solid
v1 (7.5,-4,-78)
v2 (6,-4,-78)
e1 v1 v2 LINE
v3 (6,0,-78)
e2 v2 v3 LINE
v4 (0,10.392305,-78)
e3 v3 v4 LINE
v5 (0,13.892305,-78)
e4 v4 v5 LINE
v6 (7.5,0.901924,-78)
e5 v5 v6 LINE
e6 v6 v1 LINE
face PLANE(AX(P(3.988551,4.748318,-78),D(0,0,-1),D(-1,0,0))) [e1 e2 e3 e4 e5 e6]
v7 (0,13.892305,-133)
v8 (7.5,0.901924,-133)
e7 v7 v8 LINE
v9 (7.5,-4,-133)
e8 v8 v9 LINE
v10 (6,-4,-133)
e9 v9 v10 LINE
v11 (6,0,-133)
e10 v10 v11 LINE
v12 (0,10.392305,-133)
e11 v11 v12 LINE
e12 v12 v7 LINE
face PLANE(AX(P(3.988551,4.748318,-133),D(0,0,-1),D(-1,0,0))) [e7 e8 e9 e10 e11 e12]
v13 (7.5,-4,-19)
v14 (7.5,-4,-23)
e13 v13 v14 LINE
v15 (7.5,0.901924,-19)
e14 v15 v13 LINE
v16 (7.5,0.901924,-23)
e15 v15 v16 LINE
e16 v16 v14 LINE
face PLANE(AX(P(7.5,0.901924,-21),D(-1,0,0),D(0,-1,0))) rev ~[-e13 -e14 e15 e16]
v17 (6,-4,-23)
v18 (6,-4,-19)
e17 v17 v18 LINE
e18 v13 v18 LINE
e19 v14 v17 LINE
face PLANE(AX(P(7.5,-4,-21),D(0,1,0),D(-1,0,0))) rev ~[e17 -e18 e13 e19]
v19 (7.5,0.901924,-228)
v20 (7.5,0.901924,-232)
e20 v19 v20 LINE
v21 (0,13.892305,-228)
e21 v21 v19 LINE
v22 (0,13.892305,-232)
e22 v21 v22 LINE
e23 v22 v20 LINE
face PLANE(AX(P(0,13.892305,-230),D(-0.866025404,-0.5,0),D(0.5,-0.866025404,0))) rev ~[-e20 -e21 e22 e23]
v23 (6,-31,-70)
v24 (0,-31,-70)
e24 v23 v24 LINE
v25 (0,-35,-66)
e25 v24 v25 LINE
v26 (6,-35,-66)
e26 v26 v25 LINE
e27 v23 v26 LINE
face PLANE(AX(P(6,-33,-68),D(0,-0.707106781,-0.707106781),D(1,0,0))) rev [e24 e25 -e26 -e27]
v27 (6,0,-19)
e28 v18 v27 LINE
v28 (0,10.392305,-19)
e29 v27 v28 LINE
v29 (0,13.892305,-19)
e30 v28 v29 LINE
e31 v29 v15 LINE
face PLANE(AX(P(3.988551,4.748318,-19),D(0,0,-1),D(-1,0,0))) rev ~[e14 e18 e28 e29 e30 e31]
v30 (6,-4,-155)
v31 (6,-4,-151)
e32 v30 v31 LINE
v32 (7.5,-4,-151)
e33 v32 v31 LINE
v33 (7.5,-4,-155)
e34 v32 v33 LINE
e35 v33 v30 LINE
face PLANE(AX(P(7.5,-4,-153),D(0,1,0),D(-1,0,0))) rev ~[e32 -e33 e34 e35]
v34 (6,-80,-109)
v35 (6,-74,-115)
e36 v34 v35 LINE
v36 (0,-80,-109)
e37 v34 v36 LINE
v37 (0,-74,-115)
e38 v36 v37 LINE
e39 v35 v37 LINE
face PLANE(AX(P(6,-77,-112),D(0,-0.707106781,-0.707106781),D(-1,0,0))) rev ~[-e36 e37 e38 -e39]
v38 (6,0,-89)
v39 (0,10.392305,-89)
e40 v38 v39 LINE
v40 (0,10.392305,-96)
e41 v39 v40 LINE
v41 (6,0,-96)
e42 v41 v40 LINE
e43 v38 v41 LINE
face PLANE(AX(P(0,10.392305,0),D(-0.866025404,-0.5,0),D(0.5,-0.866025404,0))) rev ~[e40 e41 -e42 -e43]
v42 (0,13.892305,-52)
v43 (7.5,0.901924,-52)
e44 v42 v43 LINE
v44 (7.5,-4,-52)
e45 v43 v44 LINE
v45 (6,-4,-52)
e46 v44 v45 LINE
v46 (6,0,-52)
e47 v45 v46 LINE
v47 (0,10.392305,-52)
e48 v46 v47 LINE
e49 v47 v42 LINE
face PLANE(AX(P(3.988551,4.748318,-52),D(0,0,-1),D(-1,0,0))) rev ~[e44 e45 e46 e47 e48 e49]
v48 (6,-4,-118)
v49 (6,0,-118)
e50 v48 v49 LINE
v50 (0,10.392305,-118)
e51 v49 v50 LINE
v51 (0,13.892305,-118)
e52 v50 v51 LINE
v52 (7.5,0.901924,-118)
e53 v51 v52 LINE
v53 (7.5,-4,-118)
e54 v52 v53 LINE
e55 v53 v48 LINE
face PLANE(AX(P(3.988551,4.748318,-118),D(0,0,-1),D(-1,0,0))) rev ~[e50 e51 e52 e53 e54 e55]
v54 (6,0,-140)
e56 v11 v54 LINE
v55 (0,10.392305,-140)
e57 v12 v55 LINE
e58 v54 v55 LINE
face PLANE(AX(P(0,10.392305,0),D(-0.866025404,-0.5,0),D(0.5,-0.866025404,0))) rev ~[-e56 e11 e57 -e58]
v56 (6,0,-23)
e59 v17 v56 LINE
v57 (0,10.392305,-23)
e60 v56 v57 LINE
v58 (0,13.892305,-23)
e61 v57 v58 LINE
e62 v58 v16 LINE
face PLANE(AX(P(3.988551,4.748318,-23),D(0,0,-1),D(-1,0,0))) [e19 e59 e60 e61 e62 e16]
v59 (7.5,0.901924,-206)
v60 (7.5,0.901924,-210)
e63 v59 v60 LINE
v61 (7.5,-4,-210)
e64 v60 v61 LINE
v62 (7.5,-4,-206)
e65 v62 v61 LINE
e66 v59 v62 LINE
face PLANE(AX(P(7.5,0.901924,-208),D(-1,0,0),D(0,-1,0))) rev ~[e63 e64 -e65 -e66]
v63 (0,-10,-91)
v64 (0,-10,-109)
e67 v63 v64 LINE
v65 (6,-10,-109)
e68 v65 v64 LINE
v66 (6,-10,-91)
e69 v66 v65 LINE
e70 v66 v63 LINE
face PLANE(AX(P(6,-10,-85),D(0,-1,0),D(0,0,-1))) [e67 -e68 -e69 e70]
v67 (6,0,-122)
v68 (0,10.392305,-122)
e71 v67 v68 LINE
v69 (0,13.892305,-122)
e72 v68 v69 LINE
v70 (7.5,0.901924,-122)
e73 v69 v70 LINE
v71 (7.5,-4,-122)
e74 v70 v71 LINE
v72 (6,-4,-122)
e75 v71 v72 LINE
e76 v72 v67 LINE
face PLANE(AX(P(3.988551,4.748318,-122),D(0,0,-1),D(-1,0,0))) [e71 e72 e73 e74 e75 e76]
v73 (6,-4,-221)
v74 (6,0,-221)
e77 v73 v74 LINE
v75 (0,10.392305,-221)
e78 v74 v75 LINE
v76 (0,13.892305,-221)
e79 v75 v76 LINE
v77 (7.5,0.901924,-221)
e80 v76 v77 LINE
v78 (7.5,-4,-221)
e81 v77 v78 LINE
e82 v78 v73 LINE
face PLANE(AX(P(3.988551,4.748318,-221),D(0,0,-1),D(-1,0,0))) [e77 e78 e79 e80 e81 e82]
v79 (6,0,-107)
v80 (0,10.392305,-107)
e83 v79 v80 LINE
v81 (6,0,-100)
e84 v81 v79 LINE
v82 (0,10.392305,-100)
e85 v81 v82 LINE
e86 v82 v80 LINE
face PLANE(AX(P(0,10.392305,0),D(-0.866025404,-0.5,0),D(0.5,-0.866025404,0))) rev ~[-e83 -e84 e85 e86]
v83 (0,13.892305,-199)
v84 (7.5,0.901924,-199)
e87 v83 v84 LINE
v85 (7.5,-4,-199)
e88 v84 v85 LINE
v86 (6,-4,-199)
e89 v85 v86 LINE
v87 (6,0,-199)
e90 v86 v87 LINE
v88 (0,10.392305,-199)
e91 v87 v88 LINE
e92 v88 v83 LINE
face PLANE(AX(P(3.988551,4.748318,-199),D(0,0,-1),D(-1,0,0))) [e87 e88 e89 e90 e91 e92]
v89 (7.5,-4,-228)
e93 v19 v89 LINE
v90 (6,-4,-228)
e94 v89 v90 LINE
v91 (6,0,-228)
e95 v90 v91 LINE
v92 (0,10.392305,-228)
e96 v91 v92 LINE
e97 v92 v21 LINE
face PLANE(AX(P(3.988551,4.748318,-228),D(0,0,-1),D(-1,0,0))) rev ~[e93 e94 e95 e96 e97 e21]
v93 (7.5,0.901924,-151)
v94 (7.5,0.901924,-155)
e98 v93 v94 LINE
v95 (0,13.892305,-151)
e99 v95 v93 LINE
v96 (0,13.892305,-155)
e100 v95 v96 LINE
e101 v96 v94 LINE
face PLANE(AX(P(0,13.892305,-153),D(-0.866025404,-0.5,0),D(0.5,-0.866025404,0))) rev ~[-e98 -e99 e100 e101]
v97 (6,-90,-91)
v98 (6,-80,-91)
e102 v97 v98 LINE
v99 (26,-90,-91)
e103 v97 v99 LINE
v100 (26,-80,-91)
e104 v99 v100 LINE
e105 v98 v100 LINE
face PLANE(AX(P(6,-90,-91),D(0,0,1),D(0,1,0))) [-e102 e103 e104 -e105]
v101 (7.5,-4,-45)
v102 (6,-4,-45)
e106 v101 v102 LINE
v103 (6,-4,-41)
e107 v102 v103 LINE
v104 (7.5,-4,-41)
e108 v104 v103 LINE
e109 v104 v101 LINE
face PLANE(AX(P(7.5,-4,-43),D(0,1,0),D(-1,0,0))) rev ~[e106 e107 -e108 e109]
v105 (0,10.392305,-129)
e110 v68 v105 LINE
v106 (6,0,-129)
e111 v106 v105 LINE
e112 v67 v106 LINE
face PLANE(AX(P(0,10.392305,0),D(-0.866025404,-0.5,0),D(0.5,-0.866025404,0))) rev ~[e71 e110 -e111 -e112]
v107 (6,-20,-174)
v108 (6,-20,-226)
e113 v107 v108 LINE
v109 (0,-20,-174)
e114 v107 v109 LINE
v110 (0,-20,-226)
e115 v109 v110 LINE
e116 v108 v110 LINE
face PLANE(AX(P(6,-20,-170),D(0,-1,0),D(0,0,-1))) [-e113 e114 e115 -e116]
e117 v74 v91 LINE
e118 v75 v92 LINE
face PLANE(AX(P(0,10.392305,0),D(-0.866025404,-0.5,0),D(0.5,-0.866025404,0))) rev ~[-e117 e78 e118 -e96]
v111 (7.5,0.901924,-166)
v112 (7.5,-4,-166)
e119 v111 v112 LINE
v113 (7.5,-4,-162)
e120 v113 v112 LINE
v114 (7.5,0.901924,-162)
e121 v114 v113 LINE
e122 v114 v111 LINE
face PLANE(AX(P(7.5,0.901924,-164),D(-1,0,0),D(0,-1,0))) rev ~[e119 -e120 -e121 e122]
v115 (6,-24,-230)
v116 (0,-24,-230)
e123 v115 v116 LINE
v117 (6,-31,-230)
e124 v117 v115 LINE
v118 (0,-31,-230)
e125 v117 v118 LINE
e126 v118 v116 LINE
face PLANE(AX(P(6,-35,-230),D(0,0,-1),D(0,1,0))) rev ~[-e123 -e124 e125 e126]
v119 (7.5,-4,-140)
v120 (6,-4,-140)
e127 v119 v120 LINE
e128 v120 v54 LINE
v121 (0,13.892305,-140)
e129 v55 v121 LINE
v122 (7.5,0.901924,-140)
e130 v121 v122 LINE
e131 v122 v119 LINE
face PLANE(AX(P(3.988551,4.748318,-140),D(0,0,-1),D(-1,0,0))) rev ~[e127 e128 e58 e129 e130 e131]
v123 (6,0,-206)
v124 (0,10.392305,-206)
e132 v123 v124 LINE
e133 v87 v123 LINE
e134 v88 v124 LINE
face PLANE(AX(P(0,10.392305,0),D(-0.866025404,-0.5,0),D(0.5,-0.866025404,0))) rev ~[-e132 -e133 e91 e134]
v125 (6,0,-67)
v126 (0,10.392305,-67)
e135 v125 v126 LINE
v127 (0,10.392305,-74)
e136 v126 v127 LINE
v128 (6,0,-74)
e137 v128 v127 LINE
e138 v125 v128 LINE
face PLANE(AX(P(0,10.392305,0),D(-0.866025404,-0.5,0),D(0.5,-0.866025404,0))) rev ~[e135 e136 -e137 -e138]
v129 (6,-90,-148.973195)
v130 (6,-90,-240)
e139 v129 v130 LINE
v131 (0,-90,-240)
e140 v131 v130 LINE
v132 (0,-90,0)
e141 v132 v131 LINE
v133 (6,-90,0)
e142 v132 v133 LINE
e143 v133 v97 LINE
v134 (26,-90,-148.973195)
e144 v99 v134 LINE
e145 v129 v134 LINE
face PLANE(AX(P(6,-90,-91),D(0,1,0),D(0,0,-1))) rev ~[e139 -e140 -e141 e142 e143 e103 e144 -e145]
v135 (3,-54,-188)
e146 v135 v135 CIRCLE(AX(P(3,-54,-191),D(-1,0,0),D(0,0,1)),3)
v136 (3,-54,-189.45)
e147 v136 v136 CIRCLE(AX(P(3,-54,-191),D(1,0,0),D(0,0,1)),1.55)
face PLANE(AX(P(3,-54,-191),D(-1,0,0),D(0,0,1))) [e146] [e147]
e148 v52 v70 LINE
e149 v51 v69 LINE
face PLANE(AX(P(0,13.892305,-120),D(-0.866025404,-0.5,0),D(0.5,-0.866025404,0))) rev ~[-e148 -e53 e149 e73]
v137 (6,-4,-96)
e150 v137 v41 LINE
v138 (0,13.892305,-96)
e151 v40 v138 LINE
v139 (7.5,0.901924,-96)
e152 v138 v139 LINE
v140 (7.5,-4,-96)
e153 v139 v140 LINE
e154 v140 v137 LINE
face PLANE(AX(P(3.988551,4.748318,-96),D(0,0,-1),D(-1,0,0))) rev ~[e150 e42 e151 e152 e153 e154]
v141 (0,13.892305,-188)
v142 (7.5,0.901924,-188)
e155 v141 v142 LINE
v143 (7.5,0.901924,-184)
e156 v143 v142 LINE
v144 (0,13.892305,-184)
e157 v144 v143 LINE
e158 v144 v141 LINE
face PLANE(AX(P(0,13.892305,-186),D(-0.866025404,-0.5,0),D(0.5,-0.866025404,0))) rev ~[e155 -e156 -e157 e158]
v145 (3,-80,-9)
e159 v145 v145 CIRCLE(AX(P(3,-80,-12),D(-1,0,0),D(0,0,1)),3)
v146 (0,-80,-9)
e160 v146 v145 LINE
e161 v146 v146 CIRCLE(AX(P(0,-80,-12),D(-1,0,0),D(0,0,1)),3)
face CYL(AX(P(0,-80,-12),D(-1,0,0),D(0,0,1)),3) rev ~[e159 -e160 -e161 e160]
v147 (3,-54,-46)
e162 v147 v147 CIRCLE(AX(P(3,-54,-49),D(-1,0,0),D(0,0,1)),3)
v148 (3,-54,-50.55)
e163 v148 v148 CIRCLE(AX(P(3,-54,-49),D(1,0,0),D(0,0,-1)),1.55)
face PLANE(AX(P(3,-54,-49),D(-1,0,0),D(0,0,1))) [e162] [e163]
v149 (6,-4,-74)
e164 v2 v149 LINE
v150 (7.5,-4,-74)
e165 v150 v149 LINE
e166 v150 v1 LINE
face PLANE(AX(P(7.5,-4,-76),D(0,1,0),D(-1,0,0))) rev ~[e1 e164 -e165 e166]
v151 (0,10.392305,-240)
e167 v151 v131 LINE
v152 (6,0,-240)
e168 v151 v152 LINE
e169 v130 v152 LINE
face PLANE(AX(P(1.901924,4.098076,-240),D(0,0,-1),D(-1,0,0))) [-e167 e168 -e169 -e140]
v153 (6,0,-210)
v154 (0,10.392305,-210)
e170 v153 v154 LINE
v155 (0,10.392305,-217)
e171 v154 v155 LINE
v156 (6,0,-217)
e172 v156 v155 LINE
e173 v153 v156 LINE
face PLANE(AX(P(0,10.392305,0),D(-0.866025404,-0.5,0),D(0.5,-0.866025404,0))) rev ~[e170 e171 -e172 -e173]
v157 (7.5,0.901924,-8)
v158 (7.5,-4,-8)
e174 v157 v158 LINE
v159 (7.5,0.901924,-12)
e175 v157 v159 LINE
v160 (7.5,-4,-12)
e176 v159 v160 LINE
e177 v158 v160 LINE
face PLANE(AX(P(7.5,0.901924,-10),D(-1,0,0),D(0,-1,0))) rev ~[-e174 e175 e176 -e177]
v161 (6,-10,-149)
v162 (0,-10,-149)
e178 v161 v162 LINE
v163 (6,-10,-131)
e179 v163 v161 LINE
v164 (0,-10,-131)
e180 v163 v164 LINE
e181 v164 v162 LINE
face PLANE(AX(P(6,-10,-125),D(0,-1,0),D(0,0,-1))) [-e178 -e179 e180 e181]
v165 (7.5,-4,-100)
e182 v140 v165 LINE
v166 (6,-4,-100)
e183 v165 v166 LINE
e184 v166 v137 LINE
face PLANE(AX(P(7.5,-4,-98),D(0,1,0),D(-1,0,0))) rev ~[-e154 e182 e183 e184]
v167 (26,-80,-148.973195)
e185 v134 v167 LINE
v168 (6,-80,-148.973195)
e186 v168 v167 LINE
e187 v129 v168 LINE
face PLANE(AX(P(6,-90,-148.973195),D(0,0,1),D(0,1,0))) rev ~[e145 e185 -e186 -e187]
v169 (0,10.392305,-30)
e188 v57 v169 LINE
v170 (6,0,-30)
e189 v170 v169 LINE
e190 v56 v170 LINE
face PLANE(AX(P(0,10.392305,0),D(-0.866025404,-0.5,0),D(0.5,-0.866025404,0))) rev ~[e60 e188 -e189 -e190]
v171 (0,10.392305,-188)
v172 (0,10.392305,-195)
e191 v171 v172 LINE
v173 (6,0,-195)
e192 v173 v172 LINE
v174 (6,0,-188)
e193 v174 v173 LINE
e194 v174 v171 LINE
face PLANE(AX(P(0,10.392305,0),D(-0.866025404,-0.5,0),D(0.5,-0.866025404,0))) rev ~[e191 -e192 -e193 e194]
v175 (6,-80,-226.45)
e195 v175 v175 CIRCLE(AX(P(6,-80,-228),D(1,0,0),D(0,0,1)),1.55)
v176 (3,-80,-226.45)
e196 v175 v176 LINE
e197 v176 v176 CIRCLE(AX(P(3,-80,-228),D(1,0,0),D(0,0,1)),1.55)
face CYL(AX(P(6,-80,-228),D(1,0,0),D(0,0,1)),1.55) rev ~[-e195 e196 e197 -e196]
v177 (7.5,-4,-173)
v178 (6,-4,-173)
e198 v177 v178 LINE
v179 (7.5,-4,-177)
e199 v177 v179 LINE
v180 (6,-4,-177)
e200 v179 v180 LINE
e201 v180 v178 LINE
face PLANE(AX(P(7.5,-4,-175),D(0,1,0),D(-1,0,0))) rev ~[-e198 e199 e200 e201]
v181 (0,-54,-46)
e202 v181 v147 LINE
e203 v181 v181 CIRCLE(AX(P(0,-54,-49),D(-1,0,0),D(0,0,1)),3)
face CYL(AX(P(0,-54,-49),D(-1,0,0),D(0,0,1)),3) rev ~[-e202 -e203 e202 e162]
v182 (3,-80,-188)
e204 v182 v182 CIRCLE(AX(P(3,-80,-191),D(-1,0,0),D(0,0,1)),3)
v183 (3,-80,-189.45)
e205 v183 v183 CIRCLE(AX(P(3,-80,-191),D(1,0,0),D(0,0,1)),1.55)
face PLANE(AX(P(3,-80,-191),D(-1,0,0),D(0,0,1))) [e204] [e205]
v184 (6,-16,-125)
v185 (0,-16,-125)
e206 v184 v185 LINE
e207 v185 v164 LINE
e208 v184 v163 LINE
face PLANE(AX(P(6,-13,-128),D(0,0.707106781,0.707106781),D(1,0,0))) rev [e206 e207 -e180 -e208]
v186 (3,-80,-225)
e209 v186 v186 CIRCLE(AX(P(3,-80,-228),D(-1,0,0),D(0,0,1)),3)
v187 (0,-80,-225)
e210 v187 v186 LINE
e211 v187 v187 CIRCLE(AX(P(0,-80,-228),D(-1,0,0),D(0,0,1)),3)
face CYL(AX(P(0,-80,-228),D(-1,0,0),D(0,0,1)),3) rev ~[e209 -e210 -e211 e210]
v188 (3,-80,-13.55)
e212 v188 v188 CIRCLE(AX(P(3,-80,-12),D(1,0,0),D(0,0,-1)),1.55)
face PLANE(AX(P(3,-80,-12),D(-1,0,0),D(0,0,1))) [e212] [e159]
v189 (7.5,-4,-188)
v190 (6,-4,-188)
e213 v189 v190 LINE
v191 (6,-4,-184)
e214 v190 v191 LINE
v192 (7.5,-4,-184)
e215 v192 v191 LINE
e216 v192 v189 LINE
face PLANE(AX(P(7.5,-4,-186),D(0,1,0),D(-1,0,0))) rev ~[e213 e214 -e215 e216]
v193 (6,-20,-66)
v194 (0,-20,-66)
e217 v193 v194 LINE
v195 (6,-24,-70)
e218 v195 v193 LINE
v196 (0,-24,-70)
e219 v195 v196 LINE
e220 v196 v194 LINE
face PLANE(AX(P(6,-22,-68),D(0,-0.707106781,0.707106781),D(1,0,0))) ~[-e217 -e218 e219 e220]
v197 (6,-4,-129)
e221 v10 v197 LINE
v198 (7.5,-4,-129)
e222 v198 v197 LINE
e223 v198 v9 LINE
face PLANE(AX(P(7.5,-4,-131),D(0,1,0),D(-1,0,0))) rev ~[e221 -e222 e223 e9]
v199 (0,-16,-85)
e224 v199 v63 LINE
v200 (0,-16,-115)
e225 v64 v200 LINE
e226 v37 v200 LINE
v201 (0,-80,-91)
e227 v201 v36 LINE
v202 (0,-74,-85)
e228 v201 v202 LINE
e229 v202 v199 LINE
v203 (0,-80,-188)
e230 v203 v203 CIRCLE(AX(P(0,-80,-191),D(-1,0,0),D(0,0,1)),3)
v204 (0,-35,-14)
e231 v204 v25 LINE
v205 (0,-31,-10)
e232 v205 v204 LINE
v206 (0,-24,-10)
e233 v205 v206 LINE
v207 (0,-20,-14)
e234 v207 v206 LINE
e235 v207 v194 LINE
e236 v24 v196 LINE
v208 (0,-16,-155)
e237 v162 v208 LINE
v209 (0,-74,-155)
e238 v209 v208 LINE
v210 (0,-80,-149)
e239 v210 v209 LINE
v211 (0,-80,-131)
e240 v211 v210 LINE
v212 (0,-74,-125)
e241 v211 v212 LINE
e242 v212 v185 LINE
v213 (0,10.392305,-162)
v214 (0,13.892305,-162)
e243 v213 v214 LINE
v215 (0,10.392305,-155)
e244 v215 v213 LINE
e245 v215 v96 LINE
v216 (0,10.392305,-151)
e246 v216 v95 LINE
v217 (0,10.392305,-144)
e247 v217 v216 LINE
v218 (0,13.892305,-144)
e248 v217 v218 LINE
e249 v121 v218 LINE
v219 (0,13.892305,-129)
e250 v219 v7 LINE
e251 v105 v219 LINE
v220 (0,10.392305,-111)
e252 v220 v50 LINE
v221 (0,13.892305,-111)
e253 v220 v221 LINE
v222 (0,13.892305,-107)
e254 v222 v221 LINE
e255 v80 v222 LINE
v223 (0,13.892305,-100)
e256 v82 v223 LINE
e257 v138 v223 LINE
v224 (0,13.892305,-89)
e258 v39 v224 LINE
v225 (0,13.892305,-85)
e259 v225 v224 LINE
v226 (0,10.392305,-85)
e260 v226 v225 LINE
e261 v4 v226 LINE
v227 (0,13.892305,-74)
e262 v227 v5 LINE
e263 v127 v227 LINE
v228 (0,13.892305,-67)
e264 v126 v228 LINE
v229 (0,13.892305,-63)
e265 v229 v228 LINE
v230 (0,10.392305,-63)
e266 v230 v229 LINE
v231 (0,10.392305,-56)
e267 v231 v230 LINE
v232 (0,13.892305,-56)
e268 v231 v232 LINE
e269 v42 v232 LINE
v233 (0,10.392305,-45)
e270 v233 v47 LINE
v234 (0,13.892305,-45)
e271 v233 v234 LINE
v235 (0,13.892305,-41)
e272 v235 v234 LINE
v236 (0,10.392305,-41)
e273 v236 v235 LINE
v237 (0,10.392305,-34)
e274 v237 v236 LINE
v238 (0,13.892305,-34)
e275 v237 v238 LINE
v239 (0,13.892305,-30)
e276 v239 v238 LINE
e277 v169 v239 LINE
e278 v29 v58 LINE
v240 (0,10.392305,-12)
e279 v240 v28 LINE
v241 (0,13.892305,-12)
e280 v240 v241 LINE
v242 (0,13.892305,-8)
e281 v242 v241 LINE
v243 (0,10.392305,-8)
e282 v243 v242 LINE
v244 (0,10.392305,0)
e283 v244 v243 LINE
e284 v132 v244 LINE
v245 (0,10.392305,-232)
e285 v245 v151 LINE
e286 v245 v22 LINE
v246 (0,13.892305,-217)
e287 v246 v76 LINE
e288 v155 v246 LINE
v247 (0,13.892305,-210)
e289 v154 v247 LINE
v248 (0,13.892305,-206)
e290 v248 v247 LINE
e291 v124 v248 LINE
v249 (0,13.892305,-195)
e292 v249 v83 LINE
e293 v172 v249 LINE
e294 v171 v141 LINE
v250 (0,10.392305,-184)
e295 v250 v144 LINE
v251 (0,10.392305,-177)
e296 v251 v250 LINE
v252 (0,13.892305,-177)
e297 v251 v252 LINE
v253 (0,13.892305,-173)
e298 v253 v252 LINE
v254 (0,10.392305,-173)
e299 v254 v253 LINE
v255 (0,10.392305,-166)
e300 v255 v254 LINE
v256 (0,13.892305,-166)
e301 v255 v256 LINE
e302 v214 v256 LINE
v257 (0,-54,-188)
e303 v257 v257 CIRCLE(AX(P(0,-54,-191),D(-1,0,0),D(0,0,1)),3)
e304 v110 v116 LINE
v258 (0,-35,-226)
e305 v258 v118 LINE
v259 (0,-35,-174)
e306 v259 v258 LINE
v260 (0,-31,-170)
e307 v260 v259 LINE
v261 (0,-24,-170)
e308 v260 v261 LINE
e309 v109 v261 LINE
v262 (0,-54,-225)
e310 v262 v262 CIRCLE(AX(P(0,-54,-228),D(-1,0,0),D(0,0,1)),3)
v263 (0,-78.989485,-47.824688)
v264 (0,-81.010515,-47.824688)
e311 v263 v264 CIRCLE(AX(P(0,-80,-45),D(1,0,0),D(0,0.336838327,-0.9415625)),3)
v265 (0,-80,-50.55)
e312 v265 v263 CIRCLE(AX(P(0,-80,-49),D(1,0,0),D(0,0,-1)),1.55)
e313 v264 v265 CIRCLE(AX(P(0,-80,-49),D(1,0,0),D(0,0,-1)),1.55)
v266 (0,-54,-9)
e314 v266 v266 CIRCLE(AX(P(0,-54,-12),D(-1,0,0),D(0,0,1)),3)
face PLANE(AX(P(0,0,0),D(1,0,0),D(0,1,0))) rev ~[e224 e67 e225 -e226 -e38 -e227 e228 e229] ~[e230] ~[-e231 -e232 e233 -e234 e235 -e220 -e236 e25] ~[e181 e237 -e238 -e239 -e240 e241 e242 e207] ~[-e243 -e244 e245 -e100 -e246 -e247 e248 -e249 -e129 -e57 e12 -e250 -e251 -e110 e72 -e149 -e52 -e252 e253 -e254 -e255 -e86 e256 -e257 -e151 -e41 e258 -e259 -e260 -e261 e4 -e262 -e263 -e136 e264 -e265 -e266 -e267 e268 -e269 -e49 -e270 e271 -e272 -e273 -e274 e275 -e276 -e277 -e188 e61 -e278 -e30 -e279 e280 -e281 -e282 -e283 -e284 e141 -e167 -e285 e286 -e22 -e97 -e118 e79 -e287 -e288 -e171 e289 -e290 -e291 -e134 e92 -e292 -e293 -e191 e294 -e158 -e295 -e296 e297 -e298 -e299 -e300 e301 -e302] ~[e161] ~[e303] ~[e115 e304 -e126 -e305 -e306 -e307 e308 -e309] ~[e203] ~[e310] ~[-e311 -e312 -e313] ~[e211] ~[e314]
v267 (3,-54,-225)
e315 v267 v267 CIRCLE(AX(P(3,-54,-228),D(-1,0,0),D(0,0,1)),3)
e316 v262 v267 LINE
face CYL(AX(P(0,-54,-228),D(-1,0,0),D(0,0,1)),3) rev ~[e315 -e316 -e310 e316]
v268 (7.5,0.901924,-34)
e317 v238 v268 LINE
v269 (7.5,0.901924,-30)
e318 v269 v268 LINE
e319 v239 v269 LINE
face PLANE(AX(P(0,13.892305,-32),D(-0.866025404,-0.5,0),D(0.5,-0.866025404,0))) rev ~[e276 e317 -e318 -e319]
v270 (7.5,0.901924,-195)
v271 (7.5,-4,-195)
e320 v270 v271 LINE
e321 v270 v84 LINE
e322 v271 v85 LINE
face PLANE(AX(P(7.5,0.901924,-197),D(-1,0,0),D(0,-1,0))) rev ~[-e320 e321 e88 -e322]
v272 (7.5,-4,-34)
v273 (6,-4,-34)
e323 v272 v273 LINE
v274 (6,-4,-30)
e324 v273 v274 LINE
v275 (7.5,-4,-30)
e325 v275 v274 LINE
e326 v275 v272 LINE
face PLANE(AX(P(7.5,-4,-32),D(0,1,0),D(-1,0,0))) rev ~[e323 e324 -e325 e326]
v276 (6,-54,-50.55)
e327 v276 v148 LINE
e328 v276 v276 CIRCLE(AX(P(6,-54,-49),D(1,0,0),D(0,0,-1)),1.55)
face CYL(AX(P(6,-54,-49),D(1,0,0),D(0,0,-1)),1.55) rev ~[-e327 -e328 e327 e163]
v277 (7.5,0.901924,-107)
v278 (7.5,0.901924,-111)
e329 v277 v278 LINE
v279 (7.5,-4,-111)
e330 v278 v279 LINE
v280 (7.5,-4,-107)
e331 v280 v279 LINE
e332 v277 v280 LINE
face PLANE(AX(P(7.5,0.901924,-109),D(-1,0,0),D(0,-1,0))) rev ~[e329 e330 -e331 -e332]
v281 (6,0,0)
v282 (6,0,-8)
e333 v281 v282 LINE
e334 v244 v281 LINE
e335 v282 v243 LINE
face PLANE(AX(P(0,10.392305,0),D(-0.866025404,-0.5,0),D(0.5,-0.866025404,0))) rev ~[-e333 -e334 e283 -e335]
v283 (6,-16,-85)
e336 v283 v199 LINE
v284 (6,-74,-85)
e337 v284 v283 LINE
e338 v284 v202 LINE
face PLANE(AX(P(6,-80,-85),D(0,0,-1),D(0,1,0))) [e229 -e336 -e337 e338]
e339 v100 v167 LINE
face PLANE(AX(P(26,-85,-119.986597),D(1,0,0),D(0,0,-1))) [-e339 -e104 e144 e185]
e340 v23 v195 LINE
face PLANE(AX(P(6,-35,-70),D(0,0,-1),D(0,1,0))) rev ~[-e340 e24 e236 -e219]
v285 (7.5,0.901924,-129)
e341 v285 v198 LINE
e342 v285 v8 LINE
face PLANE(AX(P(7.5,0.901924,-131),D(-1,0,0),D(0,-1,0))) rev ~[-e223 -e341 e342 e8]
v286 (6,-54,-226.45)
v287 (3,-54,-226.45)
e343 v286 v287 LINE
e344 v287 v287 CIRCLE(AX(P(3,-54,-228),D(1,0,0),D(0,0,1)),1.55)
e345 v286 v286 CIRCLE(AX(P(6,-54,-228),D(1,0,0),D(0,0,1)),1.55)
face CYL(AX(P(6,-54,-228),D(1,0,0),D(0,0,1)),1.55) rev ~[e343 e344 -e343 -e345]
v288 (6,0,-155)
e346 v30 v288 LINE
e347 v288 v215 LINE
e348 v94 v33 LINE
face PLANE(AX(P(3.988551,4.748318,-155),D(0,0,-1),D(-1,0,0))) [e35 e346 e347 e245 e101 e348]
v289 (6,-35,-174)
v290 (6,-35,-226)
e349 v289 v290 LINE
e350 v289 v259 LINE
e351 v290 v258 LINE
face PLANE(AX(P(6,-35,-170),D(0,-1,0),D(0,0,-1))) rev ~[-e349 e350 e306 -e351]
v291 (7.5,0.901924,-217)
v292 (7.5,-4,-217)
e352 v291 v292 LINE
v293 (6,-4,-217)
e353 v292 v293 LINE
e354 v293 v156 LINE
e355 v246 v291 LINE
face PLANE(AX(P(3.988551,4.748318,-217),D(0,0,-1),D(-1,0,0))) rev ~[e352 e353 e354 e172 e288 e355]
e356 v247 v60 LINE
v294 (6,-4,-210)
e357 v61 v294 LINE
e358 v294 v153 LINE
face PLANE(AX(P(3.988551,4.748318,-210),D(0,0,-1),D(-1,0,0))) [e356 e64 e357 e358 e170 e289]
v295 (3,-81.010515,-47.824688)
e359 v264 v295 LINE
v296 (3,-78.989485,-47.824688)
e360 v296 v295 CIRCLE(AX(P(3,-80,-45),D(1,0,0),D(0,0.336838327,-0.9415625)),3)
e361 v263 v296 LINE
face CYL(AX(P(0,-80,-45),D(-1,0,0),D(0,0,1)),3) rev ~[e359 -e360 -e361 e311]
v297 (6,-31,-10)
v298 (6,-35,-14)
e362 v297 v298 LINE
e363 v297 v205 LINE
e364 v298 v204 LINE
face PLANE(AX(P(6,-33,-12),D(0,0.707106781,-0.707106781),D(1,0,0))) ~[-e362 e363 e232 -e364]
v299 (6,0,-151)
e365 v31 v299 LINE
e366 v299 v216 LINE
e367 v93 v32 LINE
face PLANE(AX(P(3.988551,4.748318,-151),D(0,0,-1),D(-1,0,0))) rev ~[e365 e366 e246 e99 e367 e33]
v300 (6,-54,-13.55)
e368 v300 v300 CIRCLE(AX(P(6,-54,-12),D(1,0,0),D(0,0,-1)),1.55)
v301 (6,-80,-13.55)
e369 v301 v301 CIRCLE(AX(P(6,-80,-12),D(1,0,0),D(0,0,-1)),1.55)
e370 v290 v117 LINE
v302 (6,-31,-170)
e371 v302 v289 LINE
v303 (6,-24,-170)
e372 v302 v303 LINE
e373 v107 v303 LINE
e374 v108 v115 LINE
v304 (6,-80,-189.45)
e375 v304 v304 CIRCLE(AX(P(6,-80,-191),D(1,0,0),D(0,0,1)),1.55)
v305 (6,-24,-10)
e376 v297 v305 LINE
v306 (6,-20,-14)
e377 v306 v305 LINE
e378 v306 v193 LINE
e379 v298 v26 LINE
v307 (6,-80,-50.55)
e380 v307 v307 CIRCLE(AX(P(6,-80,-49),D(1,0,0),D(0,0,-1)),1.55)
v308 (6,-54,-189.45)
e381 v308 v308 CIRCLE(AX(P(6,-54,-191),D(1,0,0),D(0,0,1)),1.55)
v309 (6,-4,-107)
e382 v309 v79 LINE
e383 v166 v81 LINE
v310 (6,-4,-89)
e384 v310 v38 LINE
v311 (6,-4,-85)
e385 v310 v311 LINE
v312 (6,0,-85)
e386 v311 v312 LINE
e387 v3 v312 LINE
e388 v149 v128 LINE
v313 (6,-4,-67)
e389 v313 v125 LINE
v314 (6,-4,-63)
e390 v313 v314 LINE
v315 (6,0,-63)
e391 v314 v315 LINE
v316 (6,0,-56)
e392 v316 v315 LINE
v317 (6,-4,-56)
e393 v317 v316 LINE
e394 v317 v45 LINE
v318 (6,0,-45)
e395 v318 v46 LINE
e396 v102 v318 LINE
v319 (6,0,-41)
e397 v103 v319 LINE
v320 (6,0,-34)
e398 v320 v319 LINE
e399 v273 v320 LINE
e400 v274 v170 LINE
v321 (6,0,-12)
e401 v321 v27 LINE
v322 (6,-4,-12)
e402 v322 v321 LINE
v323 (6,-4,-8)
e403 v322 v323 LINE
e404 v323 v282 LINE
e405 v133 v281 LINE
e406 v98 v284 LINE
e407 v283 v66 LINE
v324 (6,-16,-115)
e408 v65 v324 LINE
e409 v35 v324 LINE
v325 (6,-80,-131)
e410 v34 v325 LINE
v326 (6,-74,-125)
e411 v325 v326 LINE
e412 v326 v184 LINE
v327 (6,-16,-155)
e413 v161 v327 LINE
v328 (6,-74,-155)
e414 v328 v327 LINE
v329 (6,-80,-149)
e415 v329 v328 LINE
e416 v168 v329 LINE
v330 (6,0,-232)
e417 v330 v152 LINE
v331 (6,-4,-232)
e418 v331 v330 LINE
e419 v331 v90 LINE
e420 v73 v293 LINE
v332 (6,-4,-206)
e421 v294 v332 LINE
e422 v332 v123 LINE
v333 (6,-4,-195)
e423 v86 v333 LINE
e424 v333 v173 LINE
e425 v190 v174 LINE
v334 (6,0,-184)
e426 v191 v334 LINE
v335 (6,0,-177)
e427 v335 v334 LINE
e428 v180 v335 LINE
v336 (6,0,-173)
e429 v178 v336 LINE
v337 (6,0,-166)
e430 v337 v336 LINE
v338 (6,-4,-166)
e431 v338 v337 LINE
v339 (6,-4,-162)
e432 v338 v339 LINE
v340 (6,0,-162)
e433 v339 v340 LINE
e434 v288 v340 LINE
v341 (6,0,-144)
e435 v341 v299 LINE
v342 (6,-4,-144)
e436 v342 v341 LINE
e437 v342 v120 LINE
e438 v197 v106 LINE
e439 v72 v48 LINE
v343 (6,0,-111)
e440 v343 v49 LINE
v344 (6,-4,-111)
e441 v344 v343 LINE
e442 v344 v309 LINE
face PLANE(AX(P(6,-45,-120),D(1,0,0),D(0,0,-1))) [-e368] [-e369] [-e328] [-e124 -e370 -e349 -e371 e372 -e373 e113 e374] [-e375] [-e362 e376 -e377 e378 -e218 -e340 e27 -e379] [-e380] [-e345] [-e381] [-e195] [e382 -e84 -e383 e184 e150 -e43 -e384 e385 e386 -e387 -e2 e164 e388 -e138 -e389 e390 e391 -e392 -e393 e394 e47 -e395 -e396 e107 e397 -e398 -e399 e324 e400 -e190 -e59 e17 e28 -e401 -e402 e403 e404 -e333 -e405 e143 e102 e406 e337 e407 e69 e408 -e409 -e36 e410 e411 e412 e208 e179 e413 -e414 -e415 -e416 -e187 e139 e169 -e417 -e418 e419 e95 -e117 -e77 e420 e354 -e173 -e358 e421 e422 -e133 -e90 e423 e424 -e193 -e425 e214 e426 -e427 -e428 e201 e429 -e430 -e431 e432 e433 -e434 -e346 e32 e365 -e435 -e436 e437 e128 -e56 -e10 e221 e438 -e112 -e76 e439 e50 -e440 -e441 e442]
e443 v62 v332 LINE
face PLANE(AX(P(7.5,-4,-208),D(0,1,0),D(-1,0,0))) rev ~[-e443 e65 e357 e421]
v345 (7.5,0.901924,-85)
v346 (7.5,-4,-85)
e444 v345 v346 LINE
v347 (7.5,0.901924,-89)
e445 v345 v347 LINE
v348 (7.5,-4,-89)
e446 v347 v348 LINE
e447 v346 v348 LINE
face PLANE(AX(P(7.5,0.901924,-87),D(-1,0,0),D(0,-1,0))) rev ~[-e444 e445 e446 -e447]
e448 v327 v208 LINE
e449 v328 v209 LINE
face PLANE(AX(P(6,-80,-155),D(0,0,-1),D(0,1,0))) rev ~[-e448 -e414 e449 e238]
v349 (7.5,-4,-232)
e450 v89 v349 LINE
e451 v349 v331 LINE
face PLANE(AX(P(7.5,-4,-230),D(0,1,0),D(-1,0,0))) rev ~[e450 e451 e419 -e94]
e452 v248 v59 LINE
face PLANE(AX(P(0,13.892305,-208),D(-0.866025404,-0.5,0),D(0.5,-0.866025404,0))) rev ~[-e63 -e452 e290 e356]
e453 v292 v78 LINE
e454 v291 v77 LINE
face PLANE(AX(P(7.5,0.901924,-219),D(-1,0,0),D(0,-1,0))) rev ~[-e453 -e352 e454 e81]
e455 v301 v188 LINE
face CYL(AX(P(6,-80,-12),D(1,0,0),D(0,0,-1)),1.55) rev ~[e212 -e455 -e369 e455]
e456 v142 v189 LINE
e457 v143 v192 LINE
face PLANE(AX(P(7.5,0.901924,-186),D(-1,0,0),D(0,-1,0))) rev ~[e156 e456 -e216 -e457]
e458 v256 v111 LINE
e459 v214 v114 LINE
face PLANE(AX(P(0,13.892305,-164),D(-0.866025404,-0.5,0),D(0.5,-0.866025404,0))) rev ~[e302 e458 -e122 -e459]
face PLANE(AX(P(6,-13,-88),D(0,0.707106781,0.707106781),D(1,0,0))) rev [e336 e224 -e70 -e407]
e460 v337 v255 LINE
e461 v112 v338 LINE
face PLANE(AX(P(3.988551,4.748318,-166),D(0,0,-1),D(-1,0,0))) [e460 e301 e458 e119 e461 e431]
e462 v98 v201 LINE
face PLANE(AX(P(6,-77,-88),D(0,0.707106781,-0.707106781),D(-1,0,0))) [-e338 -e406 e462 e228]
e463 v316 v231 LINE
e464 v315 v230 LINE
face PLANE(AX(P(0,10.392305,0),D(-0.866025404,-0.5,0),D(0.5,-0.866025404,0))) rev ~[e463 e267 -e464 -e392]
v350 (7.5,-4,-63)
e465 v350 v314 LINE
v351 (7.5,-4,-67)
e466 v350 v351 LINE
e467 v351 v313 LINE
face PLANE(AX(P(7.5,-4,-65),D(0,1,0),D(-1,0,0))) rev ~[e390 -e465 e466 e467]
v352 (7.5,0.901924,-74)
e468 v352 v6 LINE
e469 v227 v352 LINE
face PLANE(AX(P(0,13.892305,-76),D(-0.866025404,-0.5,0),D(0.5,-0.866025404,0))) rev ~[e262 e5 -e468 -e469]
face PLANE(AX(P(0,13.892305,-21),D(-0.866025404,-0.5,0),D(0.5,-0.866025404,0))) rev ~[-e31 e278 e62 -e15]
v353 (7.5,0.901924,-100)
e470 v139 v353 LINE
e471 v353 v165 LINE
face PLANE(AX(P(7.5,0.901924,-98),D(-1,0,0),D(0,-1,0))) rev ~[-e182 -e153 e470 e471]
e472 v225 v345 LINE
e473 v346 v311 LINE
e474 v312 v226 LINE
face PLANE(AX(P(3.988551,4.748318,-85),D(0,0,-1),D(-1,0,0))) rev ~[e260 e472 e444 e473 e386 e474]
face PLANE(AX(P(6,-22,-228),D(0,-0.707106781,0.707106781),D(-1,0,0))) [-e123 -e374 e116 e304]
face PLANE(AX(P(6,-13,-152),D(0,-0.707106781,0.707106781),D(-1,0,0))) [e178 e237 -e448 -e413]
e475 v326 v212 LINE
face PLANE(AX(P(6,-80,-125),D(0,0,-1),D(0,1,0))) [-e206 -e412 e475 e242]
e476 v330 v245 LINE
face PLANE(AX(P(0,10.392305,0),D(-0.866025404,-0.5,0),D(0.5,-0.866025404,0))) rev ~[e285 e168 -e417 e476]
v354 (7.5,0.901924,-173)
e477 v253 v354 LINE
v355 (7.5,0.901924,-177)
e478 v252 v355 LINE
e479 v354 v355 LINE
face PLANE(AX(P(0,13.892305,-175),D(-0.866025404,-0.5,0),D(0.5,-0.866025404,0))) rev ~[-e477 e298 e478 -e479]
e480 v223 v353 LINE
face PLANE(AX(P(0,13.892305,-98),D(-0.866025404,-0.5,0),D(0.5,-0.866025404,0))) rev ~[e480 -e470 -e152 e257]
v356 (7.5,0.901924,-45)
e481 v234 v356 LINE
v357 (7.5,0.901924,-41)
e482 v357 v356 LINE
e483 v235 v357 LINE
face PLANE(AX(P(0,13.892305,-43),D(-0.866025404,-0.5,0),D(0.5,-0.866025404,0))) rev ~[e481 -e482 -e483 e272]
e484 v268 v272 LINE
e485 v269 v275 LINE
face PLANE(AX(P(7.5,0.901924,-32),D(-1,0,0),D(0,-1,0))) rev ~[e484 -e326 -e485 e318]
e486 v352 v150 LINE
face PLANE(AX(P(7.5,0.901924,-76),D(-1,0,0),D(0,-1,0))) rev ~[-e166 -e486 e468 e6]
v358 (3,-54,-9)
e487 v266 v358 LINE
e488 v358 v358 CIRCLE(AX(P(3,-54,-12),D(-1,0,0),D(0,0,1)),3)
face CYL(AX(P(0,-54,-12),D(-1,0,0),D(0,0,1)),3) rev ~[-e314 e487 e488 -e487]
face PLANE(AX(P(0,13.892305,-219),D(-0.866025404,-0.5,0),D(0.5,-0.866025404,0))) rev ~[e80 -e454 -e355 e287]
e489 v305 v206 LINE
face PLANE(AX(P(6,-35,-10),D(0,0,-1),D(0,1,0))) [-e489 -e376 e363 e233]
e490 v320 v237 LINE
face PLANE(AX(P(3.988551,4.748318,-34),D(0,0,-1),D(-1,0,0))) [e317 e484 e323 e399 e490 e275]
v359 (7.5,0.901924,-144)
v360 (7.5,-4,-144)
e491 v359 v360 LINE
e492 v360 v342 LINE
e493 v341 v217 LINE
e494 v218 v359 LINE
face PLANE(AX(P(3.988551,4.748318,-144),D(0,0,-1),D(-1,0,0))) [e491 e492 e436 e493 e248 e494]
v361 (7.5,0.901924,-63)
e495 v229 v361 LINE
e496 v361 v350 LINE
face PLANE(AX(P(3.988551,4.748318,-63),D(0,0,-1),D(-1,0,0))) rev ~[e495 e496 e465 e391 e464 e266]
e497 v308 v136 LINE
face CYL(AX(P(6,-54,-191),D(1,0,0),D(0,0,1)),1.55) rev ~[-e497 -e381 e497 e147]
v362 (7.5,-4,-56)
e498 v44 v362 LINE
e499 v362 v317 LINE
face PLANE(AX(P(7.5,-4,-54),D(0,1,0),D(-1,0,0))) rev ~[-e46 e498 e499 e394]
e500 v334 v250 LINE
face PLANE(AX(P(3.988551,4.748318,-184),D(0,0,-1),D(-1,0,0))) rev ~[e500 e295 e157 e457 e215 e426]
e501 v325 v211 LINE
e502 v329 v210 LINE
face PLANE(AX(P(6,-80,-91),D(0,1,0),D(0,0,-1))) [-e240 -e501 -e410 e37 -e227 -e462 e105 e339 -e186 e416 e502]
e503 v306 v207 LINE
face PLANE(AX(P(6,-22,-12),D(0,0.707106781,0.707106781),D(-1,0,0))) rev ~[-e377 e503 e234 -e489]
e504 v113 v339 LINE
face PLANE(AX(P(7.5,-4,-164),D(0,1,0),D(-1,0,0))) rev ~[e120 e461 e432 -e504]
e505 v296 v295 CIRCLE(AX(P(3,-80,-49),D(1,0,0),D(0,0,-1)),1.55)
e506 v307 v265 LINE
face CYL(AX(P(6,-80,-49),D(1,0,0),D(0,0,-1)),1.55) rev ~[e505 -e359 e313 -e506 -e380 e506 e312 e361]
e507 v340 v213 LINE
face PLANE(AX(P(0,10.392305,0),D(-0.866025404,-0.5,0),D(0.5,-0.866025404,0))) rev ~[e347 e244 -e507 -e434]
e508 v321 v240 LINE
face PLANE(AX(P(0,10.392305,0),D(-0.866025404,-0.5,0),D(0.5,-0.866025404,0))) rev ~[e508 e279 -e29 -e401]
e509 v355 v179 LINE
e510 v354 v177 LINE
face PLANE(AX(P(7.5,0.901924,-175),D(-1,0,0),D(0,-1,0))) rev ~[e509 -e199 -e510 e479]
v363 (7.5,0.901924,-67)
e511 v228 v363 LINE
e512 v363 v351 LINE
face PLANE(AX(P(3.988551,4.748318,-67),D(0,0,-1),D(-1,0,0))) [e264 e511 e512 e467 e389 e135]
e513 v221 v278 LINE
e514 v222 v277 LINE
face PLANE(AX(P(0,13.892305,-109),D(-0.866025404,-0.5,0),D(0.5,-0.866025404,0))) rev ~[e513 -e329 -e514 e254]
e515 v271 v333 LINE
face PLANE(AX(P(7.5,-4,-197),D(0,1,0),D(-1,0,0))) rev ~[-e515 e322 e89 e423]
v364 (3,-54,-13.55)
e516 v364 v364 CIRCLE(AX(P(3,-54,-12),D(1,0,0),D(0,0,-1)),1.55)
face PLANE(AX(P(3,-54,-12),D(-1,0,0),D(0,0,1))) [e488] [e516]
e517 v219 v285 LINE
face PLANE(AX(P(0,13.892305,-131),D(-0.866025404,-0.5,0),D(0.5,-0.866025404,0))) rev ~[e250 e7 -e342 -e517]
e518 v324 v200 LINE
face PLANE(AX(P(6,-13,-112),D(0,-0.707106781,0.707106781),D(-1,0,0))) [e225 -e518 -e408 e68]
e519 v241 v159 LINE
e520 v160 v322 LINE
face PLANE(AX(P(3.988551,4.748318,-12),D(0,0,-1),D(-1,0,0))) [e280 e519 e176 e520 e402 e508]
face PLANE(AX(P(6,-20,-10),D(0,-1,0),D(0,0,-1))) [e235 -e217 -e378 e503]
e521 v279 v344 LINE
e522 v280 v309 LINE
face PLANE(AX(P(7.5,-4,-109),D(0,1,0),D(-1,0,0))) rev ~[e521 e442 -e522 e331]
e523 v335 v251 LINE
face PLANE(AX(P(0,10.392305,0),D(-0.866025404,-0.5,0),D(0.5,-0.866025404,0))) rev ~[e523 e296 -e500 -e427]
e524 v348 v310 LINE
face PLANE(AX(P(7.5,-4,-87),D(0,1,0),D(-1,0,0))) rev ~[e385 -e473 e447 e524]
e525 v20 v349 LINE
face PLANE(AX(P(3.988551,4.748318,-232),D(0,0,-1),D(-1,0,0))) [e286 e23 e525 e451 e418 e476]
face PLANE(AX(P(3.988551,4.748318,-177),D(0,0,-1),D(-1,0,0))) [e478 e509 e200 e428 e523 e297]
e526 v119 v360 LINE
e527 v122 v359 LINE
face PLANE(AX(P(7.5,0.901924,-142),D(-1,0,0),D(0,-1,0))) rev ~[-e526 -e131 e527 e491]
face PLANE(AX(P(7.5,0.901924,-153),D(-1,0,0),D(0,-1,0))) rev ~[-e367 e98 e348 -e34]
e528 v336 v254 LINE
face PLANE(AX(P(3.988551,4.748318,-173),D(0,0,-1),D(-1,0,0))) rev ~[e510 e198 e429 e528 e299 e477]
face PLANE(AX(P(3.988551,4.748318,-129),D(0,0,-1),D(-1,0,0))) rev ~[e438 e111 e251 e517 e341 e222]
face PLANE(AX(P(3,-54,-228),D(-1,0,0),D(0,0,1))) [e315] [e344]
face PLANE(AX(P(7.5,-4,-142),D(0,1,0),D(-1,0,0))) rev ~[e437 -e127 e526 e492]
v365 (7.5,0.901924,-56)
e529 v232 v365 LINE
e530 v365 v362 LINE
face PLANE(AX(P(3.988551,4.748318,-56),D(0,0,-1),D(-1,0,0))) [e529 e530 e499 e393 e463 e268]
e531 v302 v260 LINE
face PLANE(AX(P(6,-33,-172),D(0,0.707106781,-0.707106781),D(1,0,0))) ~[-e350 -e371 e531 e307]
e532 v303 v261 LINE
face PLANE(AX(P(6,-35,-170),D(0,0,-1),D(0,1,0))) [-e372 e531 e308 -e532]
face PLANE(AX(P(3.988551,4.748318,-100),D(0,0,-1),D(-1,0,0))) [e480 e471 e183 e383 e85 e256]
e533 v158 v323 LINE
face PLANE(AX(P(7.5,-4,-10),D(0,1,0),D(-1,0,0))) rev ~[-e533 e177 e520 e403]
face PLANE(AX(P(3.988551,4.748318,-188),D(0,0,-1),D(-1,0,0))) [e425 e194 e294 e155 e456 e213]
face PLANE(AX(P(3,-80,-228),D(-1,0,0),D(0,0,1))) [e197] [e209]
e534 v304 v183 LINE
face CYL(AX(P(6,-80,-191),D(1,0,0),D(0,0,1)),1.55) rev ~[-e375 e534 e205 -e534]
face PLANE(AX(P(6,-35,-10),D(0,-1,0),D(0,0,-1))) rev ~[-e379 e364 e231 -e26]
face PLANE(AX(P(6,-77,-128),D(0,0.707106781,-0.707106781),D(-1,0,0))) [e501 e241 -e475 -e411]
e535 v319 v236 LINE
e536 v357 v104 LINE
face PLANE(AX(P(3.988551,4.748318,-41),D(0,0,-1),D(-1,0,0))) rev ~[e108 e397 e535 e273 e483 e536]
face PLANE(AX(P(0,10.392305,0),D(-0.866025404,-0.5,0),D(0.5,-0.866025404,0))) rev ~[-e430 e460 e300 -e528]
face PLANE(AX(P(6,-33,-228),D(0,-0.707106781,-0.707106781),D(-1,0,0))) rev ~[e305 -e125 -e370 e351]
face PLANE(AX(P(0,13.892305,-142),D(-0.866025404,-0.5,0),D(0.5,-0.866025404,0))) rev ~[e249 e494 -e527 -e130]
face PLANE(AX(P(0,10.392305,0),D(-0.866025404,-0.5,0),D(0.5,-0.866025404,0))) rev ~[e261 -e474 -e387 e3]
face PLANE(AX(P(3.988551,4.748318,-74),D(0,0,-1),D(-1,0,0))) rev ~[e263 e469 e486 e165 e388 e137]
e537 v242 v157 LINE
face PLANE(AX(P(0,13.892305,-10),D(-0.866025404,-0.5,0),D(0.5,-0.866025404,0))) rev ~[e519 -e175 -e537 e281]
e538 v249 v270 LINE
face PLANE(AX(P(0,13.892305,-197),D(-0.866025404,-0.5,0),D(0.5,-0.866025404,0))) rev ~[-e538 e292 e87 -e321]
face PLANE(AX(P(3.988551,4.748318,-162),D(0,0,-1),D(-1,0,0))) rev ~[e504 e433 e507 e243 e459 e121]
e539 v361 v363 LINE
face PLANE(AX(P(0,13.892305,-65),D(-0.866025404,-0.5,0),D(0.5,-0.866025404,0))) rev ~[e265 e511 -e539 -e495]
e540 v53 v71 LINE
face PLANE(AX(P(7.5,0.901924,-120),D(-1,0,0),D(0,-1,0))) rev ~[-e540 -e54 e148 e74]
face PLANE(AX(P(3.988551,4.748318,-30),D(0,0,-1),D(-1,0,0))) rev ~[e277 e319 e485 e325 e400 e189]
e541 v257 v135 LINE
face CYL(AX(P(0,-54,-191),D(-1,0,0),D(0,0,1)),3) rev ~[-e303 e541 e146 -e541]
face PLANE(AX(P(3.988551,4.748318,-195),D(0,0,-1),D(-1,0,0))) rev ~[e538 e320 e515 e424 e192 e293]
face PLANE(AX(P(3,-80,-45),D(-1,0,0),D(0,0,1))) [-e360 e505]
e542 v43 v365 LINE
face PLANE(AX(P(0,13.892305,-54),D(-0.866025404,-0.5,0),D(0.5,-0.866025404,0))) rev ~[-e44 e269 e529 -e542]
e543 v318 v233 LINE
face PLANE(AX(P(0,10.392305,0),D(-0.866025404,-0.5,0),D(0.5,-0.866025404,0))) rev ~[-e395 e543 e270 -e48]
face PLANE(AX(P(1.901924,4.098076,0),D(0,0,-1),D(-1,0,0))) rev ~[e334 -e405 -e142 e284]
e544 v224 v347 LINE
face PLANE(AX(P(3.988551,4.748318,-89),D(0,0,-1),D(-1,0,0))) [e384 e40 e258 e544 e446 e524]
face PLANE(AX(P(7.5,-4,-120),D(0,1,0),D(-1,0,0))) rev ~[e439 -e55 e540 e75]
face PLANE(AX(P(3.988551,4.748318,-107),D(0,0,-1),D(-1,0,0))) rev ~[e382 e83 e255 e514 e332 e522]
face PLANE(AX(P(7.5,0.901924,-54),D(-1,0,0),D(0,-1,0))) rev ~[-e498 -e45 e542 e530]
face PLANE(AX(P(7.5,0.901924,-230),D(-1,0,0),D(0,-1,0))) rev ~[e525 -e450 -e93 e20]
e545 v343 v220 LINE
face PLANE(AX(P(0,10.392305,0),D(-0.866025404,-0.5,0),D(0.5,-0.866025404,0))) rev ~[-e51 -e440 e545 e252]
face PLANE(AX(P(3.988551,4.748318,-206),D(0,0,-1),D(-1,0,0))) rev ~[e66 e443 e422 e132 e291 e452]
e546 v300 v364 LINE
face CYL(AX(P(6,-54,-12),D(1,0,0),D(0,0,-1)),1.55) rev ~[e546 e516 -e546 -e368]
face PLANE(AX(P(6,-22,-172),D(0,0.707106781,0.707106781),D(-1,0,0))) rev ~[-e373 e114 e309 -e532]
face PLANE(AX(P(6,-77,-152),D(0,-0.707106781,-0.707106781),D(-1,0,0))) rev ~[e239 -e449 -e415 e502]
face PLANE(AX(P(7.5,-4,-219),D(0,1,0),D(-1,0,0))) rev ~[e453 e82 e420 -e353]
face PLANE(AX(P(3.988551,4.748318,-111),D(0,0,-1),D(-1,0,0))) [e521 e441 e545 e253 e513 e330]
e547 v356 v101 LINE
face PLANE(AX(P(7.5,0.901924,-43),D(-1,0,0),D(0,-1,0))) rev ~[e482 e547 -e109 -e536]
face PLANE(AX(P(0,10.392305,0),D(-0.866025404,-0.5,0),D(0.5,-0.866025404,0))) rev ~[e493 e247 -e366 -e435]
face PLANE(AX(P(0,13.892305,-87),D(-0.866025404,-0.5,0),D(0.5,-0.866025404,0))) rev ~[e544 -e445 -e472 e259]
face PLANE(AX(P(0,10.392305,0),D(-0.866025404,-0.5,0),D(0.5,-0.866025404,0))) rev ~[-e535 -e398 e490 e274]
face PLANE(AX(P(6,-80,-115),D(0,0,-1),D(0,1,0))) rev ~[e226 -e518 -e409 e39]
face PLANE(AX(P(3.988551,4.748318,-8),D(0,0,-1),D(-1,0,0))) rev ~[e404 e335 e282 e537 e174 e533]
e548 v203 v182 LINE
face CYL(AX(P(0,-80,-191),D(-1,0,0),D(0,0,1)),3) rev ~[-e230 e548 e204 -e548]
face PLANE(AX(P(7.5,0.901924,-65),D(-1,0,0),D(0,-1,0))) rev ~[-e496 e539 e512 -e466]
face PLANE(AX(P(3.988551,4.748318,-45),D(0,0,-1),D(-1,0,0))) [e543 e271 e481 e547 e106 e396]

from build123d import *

# Parameters (mm, degrees)
SKETCH_1_W                 = 240
SKETCH_1_H                 = 90
EXTRUDE_1_DEPTH            = 6
SKETCH_2_R                 = 1.55
CUT_EXTRUDE_1_DEPTH        = 257.390327431
SKETCH_3_W                 = 60
SKETCH_3_H                 = 15
CUT_EXTRUDE_2_DEPTH        = 257.390327431
SKETCH_4_W                 = 30
SKETCH_4_H                 = 70
CUT_EXTRUDE_3_DEPTH        = 257.390327431
SKETCH_5_R                 = 3
CUT_EXTRUDE_4_DEPTH        = 3
EXTRUDE_2_DEPTH            = 240
CHAMFER_1_SIZE             = 4
CHAMFER_2_SIZE             = 6
EXTRUDE_3_DEPTH            = 2
PATTERN_LINEAR_1_COUNT     = 11
PATTERN_LINEAR_1_PITCH     = 11
PATTERN_LINEAR_1_COL_COUNT = 11
PATTERN_LINEAR_1_COL_PITCH = 11
SKETCH_9_W                 = 57.973194975
SKETCH_9_H                 = 10
EXTRUDE_4_DEPTH            = 20


with BuildPart() as part:
    # 草图1 → 凸台-拉伸1 (new body)
    with BuildSketch(Plane(origin=(0, 0, 0), x_dir=(0, 0, -1), z_dir=(1, 0, 0))):
        with Locations((120, -45)):
            Rectangle(SKETCH_1_W, SKETCH_1_H)
    extrude(amount=EXTRUDE_1_DEPTH)

    # 草图2 → 切除-拉伸1 (cut, through all)
    with BuildSketch(Plane(origin=(6, 0, 0), x_dir=(0, 0, -1), z_dir=(1, 0, 0))):
        with Locations((12, -54)):
            Circle(SKETCH_2_R)
        with Locations((49, -80)):
            Circle(SKETCH_2_R)
        with Locations((49, -54)):
            Circle(SKETCH_2_R)
        with Locations((12, -80)):
            Circle(SKETCH_2_R)
        with Locations(Location((228, -80, 0), (0, 0, 180))):
            Circle(SKETCH_2_R)
        with Locations(Location((191, -54, 0), (0, 0, 180))):
            Circle(SKETCH_2_R)
        with Locations(Location((191, -80, 0), (0, 0, 180))):
            Circle(SKETCH_2_R)
        with Locations(Location((228, -54, 0), (0, 0, 180))):
            Circle(SKETCH_2_R)
    extrude(amount=-CUT_EXTRUDE_1_DEPTH, mode=Mode.SUBTRACT)

    # 草图3 → 切除-拉伸2 (cut, through all)
    with BuildSketch(Plane(origin=(6, 0, 0), x_dir=(0, 0, -1), z_dir=(1, 0, 0))):
        with Locations((40, -27.5)):
            Rectangle(SKETCH_3_W, SKETCH_3_H)
        with Locations((200, -27.5)):
            Rectangle(SKETCH_3_W, SKETCH_3_H)
    extrude(amount=-CUT_EXTRUDE_2_DEPTH, mode=Mode.SUBTRACT)

    # 草图4 → 切除-拉伸3 (cut, through all)
    with BuildSketch(Plane(origin=(6, 0, 0), x_dir=(0, 0, -1), z_dir=(1, 0, 0))):
        with Locations((100, -45)):
            Rectangle(SKETCH_4_W, SKETCH_4_H)
        with Locations((140, -45)):
            Rectangle(SKETCH_4_W, SKETCH_4_H)
    extrude(amount=-CUT_EXTRUDE_3_DEPTH, mode=Mode.SUBTRACT)

    # 草图5 → 切除-拉伸4 (cut)
    with BuildSketch(Plane.ZY):
        with Locations((-191, -80)):
            Circle(SKETCH_5_R)
        with Locations((-228, -80)):
            Circle(SKETCH_5_R)
        with Locations((-191, -54)):
            Circle(SKETCH_5_R)
        with Locations((-228, -54)):
            Circle(SKETCH_5_R)
        with Locations((-45, -80)):
            Circle(SKETCH_5_R)
        with Locations((-12, -80)):
            Circle(SKETCH_5_R)
        with Locations((-12, -54)):
            Circle(SKETCH_5_R)
        with Locations((-49, -54)):
            Circle(SKETCH_5_R)
    extrude(amount=-CUT_EXTRUDE_4_DEPTH, mode=Mode.SUBTRACT)

    # 草图6 → 凸台-拉伸2 (add)
    with BuildSketch(Plane.XY):
        Polygon((6, 0), (0, 0), (0, 10.392304845), align=None)
    extrude(amount=-EXTRUDE_2_DEPTH)

    # 倒角1
    chamfer_1_edges = [part.edges().sort_by_distance(p)[0] for p in [
        (3, -35, -10),
        (3, -20, -10),
        (3, -20, -70),
        (3, -35, -70),
        (3, -20, -170),
        (3, -20, -230),
        (3, -35, -230),
        (3, -35, -170),
    ]]
    chamfer(chamfer_1_edges, length=CHAMFER_1_SIZE)

    # 倒角2
    chamfer_2_edges = [part.edges().sort_by_distance(p)[0] for p in [
        (3, -10, -115),
        (3, -80, -115),
        (3, -80, -85),
        (3, -10, -85),
        (3, -10, -125),
        (3, -10, -155),
        (3, -80, -155),
        (3, -80, -125),
    ]]
    chamfer(chamfer_2_edges, length=CHAMFER_2_SIZE)

    # 草图8 → 凸台-拉伸3 (add, symmetric)
    with BuildSketch(Plane.XY.offset(-120)):
        Polygon((0, 10.392304845), (0, 13.892304845), (7.5, 0.901923789), (7.5, -4), (6, -4), (6, 0), align=None)
    extrude_3 = extrude(amount=EXTRUDE_3_DEPTH, both=True)

    # 阵列(线性)1: 凸台-拉伸3 ×11
    with Locations(*[(0, 0, i * PATTERN_LINEAR_1_PITCH) for i in range(1, PATTERN_LINEAR_1_COUNT)]):
        add(extrude_3)

    # 阵列(线性)1 col: 凸台-拉伸3 ×11
    with Locations(*[(0, 0, -i * PATTERN_LINEAR_1_COL_PITCH) for i in range(1, PATTERN_LINEAR_1_COL_COUNT)]):
        add(extrude_3)

    # 草图9 → 凸台-拉伸4 (add)
    with BuildSketch(Plane(origin=(6, 0, 0), x_dir=(0, 0, -1), z_dir=(1, 0, 0))):
        with Locations((119.986597488, -85)):
            Rectangle(SKETCH_9_W, SKETCH_9_H)
    extrude(amount=EXTRUDE_4_DEPTH)


solid = part.part
